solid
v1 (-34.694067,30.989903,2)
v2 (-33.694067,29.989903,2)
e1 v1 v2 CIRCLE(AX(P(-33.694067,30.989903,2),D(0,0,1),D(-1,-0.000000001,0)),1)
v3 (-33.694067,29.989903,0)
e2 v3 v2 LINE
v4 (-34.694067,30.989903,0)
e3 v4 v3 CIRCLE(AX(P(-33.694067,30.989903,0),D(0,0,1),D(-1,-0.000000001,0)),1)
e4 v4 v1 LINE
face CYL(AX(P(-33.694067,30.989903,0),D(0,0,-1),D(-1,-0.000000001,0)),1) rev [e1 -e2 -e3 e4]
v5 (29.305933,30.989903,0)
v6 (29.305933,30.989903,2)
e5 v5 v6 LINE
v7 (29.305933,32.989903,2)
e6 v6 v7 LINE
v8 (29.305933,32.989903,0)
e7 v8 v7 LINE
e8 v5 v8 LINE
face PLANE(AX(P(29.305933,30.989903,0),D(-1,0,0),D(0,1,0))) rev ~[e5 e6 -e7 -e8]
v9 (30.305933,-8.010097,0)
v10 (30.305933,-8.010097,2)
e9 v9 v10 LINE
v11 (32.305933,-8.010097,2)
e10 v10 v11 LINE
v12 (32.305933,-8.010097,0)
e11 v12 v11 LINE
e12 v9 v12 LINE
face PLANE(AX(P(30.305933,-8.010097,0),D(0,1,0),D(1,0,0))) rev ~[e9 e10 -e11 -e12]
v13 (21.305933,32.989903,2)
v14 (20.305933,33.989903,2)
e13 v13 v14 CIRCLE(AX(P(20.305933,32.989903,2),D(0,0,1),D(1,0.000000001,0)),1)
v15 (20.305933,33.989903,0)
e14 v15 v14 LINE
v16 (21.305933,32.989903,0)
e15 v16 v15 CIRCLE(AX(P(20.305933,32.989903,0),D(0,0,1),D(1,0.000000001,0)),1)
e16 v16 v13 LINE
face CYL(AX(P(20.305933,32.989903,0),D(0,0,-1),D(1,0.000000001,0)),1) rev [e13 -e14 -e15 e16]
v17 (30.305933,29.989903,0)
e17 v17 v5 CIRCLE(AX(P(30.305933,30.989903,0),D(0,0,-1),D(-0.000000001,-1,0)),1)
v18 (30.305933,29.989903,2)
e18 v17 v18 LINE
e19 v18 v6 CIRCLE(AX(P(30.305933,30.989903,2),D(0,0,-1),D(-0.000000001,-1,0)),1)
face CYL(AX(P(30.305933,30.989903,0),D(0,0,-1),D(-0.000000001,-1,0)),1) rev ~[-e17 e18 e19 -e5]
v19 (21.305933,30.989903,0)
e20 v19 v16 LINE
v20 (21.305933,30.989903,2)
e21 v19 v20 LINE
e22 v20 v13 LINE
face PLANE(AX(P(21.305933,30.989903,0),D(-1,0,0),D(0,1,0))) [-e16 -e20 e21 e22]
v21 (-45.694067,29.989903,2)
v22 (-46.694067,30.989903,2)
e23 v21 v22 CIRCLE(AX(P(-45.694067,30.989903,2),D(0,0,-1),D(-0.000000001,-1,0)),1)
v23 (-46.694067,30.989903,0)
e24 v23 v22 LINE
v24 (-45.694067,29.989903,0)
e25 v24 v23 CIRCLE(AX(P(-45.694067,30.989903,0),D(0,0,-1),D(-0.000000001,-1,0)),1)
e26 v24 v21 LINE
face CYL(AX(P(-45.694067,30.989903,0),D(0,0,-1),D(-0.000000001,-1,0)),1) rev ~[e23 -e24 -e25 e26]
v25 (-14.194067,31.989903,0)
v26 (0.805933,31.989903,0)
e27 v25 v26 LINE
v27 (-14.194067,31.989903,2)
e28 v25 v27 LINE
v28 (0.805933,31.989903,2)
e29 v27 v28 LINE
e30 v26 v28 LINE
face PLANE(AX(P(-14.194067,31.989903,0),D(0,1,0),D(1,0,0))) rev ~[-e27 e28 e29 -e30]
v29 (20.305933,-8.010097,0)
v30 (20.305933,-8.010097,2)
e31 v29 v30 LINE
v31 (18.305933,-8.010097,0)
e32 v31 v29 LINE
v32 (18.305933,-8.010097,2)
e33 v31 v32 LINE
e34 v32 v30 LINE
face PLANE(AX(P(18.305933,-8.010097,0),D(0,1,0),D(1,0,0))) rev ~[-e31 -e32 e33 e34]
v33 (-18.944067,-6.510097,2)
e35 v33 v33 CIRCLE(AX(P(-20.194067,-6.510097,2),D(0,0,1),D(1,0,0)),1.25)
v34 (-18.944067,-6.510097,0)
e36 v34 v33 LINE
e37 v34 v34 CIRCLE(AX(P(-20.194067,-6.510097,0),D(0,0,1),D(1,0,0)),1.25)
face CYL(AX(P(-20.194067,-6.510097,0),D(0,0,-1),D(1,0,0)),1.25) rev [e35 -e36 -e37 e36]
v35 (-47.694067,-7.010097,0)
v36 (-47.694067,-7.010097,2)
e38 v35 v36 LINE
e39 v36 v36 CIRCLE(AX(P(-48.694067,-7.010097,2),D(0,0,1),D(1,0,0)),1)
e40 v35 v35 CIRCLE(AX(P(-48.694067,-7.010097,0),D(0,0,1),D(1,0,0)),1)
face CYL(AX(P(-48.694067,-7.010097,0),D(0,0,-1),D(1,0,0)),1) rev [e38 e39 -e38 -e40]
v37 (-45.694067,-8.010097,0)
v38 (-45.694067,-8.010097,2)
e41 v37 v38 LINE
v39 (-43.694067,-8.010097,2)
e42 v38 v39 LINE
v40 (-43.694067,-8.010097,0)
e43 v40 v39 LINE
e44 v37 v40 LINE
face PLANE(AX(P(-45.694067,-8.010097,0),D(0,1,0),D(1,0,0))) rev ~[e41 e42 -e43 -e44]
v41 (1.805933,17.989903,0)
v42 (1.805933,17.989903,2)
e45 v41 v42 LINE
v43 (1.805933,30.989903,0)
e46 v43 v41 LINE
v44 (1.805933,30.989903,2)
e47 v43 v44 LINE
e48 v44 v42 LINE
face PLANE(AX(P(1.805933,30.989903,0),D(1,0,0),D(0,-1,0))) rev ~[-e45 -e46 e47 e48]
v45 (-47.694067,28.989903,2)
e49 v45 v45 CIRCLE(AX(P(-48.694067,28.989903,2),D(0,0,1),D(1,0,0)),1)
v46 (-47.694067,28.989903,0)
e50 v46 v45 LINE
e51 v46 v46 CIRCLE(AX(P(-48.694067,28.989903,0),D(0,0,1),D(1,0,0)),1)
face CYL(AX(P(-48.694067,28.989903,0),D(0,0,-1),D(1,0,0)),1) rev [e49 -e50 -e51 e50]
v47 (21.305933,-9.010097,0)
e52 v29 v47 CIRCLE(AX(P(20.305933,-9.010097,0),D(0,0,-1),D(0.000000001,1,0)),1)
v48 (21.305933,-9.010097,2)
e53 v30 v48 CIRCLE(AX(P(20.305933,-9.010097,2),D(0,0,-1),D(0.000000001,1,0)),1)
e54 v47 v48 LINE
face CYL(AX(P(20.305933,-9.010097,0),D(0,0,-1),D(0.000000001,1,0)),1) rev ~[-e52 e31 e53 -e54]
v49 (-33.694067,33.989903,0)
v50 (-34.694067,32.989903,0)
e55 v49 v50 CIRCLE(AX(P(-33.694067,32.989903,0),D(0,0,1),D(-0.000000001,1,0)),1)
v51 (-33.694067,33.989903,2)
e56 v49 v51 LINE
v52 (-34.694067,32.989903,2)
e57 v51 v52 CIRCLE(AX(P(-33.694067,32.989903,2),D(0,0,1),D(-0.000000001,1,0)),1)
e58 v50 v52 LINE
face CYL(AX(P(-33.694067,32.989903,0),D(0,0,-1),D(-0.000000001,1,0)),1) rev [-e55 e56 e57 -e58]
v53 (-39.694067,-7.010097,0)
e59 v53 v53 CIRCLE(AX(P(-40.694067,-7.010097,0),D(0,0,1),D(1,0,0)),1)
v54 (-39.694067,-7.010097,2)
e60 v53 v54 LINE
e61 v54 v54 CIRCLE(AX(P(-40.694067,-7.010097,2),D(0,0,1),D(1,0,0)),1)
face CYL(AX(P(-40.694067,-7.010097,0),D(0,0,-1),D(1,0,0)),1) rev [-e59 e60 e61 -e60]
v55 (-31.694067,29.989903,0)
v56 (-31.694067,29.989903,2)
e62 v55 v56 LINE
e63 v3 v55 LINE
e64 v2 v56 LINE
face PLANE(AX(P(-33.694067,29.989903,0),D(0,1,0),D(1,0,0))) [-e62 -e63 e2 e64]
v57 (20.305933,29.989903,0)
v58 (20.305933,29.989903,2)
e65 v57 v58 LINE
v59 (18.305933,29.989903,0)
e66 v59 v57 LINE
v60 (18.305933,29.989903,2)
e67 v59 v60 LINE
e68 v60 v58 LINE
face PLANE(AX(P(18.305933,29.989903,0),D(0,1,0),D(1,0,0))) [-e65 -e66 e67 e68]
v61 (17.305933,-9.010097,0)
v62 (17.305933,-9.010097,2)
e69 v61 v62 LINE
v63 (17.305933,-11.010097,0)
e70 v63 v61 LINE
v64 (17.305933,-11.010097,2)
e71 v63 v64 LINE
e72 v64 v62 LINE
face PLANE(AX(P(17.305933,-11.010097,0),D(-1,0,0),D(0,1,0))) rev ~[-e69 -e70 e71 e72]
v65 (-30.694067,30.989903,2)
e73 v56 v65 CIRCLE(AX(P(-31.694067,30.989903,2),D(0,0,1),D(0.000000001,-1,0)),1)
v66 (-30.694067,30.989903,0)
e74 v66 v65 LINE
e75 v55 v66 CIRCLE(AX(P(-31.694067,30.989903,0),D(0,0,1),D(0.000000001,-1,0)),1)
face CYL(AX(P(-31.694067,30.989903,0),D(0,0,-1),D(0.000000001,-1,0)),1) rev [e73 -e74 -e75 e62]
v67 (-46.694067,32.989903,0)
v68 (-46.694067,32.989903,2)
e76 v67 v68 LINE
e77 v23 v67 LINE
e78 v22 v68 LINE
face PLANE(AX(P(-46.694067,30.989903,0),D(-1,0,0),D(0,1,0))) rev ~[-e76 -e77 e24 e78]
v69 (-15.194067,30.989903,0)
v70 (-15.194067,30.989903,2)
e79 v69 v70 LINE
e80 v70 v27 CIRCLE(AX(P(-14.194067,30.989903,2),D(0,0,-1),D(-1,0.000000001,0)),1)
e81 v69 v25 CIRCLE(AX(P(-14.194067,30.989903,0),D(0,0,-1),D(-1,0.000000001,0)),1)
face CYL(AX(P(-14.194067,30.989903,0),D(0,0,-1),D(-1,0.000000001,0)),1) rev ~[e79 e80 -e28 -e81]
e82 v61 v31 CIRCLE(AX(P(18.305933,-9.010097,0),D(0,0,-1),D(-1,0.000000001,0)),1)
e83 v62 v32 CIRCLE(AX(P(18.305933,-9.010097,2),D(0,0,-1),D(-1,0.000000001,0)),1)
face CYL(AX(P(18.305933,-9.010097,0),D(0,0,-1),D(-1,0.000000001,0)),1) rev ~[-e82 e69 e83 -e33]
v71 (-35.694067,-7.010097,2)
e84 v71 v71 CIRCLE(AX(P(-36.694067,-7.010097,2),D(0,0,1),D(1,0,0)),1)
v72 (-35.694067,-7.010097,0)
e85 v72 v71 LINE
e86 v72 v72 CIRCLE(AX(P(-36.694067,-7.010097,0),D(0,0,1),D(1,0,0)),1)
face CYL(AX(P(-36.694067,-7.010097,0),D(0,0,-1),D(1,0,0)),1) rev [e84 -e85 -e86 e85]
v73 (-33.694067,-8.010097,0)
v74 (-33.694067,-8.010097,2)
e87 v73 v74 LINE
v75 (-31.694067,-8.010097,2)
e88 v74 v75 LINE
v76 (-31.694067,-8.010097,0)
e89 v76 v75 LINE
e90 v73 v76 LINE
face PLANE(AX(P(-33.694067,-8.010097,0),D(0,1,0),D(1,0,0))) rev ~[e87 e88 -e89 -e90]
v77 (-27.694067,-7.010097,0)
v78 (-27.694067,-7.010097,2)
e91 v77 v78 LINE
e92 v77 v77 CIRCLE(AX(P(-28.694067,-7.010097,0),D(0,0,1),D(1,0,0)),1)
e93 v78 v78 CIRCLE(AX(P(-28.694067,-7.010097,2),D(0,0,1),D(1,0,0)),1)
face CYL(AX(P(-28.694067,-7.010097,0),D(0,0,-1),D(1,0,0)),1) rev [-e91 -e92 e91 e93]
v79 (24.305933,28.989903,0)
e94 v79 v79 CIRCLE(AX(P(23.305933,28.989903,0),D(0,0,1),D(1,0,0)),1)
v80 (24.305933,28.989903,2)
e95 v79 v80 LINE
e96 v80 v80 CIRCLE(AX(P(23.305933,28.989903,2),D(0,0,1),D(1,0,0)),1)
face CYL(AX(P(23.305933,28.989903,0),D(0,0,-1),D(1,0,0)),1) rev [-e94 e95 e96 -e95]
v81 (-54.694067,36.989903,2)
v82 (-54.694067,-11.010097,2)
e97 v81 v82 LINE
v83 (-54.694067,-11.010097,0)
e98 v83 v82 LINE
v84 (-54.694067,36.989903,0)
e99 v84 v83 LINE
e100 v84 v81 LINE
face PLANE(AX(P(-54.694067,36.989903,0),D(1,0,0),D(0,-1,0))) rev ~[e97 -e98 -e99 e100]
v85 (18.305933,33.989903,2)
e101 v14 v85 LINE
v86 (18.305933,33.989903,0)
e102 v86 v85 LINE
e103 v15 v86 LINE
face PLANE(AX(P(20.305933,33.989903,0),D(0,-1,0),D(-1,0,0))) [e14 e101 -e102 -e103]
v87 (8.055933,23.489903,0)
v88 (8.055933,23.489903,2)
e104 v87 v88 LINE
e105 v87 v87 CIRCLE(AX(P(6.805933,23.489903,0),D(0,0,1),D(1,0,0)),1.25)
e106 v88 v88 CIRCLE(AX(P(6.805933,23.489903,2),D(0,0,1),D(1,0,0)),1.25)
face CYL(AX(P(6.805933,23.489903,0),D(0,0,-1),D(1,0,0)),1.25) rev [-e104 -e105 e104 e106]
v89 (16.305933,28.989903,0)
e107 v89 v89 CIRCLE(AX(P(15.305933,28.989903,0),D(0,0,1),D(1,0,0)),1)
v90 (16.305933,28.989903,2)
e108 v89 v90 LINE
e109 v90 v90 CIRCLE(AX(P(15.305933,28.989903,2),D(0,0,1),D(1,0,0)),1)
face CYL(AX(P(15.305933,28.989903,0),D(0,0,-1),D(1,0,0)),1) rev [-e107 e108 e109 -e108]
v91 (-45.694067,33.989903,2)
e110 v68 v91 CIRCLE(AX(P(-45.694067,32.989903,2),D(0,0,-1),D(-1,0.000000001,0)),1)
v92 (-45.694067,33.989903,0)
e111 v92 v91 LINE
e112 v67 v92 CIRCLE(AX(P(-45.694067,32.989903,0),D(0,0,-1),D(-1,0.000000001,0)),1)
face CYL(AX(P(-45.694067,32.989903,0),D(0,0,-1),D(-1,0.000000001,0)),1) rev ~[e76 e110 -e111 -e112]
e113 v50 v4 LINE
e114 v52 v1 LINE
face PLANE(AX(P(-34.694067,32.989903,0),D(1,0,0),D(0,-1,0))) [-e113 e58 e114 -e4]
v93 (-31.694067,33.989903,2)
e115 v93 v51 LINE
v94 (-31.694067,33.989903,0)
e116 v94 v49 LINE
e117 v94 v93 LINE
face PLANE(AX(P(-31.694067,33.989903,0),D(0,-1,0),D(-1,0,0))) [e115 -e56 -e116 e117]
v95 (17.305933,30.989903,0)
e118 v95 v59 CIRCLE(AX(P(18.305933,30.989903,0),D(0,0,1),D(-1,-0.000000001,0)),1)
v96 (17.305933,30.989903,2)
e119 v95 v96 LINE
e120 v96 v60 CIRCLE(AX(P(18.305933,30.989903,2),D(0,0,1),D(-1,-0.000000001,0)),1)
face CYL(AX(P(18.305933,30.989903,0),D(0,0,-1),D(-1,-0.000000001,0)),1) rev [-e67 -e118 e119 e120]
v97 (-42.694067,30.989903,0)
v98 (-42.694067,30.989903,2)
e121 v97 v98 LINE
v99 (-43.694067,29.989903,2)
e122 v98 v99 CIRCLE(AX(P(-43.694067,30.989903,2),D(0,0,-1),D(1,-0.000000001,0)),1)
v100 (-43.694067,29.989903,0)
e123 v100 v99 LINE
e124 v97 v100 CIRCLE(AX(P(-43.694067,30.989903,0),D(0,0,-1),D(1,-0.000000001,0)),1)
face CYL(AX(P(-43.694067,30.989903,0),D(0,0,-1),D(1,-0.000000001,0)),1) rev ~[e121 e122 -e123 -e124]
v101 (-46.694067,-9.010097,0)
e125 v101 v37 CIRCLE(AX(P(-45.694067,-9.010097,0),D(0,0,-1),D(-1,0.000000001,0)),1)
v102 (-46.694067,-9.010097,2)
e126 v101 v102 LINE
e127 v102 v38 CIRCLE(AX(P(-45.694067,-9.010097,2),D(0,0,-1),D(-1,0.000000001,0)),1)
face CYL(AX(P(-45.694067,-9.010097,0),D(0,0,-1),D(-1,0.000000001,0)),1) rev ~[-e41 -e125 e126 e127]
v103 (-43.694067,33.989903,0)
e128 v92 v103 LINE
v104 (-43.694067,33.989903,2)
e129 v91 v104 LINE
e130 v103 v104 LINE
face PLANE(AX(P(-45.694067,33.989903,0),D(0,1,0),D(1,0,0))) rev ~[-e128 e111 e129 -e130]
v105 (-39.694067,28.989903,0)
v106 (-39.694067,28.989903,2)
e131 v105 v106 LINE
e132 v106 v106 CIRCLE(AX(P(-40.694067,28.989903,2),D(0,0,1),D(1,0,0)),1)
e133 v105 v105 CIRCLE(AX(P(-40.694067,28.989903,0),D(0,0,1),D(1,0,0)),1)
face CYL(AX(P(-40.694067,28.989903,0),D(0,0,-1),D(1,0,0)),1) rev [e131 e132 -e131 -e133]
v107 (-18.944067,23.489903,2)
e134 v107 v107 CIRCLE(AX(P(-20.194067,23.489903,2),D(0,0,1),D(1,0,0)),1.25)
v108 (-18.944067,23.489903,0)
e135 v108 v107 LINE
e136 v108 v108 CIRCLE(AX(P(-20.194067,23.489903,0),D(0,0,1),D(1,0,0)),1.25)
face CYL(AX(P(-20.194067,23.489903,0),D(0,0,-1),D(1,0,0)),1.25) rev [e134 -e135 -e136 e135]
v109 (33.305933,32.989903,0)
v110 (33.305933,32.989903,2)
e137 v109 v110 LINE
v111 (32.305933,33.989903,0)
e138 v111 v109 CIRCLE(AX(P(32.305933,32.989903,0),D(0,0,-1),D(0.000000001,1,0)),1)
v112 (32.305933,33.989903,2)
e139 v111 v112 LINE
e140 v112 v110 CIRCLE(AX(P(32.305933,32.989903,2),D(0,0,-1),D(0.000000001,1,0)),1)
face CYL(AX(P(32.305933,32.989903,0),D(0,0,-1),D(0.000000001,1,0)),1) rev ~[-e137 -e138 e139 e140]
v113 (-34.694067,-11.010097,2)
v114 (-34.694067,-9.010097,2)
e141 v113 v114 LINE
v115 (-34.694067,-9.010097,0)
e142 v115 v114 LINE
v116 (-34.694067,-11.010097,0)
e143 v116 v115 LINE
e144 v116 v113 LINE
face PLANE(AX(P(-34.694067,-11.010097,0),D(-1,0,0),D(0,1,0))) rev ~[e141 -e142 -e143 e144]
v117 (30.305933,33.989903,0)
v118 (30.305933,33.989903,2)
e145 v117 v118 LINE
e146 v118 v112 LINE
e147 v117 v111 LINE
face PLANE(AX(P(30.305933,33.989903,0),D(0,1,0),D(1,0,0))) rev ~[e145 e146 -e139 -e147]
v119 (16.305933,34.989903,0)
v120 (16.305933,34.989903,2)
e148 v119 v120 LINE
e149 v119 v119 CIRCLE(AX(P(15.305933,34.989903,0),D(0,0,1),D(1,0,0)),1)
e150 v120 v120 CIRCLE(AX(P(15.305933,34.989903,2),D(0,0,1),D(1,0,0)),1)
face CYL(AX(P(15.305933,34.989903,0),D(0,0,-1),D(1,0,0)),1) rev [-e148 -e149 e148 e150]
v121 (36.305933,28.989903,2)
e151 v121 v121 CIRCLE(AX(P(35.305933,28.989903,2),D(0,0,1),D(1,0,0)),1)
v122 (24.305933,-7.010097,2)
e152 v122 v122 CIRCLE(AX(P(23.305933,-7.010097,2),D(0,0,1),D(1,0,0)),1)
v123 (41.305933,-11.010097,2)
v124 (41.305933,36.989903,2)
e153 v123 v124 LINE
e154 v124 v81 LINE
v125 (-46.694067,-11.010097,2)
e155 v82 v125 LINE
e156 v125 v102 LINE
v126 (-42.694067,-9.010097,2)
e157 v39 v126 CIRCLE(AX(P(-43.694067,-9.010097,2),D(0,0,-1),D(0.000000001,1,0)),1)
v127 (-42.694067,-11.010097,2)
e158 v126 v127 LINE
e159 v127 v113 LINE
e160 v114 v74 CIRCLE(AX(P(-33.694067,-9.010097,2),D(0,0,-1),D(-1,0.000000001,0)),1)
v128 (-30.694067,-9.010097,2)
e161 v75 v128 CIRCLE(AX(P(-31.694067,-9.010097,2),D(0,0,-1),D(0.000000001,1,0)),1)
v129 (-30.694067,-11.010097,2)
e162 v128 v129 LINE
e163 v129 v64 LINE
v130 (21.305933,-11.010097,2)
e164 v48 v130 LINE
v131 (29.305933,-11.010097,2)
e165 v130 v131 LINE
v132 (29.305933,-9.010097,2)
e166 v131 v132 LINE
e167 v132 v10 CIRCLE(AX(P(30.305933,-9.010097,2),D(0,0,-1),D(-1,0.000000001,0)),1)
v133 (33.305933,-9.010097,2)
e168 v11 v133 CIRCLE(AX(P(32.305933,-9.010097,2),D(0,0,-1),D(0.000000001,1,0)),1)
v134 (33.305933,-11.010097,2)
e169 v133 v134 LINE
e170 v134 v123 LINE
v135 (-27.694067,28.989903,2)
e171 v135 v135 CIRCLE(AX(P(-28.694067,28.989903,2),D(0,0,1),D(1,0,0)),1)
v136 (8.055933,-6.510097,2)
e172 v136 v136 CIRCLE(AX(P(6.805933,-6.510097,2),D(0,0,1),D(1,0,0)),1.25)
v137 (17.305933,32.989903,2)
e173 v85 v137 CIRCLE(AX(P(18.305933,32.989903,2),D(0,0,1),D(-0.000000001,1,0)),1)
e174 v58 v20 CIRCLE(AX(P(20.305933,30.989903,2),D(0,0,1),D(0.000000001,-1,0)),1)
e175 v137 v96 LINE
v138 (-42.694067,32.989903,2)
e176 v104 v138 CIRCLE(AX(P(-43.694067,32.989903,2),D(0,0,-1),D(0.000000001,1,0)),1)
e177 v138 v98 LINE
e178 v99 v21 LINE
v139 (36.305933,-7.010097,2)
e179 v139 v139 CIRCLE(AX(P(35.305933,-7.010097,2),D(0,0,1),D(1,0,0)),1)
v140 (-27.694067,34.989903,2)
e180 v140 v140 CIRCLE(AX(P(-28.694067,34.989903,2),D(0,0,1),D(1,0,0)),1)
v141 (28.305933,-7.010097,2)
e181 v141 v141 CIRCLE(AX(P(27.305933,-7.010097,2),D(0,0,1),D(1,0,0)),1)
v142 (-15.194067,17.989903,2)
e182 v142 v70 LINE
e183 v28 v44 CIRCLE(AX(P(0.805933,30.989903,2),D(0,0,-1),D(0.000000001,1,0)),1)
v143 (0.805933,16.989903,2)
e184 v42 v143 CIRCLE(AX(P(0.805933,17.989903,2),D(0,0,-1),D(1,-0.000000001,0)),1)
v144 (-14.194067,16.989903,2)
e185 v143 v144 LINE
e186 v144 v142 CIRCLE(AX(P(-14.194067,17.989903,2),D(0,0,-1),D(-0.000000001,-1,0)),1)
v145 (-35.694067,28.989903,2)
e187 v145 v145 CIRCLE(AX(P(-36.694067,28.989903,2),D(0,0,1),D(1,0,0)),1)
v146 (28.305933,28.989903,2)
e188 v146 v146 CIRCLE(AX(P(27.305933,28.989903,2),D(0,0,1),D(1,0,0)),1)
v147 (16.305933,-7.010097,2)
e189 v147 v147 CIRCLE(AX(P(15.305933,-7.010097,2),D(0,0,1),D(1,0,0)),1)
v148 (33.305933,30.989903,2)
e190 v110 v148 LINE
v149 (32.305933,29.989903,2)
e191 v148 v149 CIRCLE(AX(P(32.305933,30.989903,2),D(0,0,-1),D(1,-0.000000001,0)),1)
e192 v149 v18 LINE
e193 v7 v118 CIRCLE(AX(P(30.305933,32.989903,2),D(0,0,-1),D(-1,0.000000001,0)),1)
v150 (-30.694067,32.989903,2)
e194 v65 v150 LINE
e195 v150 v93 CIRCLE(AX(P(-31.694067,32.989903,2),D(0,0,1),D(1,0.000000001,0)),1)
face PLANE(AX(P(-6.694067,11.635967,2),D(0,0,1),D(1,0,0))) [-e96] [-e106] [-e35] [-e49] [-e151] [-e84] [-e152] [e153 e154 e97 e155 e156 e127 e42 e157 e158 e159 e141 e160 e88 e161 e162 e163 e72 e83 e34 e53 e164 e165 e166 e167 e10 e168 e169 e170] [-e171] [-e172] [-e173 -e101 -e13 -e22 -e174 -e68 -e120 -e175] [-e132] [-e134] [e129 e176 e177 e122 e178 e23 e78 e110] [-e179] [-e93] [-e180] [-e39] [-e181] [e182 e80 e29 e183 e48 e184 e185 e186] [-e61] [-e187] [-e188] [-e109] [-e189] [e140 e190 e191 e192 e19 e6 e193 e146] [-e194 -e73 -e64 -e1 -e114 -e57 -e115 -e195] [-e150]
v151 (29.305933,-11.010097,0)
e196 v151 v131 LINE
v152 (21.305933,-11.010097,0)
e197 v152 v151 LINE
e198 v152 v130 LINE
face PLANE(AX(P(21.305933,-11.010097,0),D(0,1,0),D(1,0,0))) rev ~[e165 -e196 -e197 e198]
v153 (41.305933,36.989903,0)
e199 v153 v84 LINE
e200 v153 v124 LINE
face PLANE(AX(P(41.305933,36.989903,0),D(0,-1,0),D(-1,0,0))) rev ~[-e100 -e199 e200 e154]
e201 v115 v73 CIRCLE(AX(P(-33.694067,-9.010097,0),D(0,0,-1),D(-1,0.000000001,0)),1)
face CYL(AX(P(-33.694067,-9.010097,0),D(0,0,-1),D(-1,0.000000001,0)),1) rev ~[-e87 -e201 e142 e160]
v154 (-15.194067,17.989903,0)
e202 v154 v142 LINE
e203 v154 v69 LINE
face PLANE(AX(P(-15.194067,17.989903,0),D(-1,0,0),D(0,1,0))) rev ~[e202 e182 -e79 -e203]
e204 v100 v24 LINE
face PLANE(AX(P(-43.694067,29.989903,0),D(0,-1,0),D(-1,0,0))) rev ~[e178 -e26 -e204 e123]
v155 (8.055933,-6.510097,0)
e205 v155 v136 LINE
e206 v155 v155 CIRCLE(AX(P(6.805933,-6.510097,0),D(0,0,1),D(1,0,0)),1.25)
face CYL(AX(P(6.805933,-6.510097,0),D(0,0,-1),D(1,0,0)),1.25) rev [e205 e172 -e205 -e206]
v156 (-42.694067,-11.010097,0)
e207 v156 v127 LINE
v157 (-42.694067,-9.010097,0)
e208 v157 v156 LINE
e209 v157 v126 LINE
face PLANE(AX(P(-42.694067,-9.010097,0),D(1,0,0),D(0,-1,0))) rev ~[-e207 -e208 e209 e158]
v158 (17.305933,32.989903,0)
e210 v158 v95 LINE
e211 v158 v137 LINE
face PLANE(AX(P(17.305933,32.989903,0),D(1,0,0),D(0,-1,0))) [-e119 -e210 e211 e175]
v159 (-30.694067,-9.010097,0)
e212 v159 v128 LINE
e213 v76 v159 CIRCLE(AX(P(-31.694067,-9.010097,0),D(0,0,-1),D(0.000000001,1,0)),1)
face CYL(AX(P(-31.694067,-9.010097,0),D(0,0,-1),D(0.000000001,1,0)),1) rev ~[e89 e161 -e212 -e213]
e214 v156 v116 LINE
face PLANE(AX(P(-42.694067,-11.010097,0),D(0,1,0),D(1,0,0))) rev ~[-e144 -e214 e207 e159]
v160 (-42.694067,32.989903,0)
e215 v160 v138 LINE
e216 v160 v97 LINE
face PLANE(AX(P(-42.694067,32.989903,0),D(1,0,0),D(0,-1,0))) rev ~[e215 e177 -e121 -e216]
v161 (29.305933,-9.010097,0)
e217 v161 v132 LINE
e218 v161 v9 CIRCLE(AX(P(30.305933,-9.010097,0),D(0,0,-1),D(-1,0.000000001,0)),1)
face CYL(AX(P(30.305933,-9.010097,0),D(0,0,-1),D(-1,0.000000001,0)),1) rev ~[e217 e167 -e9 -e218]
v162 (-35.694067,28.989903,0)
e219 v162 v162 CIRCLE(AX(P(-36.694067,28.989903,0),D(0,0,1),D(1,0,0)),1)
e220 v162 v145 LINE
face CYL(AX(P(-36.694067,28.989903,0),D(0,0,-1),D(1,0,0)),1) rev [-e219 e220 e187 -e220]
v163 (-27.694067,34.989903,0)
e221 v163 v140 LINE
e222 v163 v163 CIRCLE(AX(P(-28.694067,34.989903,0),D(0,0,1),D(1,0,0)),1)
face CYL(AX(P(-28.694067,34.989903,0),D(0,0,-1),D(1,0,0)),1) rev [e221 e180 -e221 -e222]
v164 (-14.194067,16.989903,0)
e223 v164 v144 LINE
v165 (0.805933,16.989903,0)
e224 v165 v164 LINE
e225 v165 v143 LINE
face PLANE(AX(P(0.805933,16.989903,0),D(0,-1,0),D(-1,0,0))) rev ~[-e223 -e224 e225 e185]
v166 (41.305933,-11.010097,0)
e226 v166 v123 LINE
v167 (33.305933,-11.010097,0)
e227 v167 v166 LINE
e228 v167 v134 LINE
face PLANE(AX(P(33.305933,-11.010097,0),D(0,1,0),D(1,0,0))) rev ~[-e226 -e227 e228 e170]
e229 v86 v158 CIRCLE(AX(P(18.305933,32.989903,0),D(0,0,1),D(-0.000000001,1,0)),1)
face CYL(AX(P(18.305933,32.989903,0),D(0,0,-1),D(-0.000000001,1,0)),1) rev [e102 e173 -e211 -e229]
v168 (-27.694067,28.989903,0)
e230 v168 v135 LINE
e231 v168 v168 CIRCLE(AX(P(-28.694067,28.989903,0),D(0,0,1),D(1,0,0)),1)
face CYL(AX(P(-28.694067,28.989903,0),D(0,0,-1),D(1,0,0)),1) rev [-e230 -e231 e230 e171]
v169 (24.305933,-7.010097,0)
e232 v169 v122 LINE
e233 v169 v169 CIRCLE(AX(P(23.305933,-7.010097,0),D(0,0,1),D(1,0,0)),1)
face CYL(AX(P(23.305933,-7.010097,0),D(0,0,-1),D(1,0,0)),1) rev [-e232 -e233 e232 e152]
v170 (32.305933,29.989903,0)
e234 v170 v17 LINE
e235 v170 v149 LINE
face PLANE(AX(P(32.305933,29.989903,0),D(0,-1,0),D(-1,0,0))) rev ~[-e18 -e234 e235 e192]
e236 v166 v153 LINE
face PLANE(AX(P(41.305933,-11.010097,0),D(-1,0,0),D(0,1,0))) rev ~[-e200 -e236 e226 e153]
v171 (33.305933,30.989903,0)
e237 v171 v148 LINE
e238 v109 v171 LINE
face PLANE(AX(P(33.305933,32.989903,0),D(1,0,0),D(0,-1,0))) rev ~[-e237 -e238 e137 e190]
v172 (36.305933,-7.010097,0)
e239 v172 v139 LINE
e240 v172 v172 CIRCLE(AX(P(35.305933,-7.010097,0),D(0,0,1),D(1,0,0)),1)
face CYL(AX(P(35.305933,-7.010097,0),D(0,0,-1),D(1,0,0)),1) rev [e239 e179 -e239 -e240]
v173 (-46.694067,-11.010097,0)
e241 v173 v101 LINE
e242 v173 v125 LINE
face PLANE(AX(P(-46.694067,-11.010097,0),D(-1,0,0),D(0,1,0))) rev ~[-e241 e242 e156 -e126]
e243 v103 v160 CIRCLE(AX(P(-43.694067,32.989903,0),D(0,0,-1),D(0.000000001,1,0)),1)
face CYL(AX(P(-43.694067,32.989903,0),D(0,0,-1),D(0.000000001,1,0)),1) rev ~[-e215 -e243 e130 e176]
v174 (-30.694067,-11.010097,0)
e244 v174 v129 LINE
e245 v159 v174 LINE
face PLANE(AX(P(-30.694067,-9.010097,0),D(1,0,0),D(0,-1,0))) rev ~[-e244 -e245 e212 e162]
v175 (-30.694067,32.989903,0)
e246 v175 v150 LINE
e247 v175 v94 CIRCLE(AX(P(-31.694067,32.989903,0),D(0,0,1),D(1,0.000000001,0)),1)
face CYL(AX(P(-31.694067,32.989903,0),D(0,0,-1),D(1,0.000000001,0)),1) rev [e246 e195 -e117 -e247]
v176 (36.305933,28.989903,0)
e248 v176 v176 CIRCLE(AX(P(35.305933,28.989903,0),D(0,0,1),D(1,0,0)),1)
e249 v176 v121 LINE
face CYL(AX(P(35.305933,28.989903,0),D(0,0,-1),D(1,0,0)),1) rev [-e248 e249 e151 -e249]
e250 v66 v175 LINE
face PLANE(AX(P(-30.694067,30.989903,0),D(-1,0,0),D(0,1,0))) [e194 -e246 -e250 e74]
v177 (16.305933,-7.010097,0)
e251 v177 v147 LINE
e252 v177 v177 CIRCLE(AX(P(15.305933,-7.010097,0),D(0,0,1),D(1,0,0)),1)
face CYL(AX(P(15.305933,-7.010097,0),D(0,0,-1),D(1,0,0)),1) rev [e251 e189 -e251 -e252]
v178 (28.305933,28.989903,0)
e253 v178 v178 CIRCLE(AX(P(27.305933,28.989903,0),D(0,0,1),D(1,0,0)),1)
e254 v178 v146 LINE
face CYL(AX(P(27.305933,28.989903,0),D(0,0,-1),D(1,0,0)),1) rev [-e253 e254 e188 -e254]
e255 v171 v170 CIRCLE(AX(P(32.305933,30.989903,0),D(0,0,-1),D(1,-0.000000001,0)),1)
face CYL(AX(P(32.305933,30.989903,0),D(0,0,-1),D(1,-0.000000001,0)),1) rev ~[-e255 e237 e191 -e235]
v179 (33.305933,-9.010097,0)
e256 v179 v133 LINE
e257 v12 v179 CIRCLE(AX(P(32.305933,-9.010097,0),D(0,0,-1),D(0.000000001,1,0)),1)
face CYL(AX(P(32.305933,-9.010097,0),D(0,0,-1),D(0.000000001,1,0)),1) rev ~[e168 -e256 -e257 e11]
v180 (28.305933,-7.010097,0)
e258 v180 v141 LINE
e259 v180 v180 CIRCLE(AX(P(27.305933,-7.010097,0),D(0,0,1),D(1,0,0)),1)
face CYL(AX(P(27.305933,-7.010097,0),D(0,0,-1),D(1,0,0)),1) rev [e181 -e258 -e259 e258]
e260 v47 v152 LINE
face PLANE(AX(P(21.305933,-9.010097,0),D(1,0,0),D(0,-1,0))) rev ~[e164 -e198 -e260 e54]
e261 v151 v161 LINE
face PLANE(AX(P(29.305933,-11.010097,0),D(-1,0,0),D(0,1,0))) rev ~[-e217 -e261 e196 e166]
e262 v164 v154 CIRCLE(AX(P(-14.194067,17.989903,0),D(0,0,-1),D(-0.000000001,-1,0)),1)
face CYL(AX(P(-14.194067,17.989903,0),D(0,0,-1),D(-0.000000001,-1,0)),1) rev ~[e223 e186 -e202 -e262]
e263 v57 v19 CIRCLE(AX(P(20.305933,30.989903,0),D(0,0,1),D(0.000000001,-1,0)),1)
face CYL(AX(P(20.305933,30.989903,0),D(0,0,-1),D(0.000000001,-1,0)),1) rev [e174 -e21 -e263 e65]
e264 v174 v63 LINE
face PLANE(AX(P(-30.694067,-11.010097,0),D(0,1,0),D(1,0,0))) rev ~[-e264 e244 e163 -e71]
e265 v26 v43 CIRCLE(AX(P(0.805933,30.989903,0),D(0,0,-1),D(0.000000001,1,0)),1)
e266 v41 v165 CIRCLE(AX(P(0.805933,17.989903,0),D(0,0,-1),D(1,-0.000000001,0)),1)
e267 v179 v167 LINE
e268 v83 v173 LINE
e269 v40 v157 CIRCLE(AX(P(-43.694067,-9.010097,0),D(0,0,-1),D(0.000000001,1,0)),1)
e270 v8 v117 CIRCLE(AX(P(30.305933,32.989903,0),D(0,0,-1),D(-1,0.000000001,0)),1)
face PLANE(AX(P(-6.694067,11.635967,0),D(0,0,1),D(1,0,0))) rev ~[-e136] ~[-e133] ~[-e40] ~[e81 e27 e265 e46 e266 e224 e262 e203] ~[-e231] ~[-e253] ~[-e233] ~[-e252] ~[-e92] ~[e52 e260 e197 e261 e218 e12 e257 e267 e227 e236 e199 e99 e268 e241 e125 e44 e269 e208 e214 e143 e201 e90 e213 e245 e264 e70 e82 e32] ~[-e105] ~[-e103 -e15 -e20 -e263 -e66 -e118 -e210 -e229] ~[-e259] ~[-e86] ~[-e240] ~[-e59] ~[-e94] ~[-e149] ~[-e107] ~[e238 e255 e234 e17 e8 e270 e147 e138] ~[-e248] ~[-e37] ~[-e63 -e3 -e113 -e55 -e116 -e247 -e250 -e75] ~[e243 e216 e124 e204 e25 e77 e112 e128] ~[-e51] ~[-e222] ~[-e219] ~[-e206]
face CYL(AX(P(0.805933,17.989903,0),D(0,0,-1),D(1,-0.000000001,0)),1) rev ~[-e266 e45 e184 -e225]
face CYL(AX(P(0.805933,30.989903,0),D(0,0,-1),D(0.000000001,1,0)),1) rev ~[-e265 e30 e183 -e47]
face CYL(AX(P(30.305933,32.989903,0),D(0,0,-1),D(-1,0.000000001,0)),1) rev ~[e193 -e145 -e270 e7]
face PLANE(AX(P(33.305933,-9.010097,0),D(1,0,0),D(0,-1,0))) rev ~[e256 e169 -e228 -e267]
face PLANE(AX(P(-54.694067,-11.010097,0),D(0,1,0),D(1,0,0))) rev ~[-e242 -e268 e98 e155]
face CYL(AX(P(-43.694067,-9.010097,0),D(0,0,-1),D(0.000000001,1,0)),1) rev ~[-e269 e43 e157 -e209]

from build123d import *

# Parameters (mm, degrees)
SKETCH_1_R      = 1.25
SKETCH_1_R_2    = 1
EXTRUDE_3_DEPTH = 2


with BuildPart() as part:
    # 草圖1 → 填料-伸長3 (new body)
    with BuildSketch(Plane.XY):
        with BuildLine():
            Line((-53.694067148, 36.989902751), (-54.694067148, 36.989902751))
            Line((-54.694067148, 36.989902751), (-54.694067148, 35.989902751))
            Line((-54.694067148, 35.989902751), (-54.694067148, -10.010097249))
            Line((-54.694067148, -10.010097249), (-54.694067148, -11.010097249))
            Line((-54.694067148, -11.010097249), (-53.694067148, -11.010097249))
            Line((-53.694067148, -11.010097249), (-46.694067148, -11.010097249))
            Line((-46.694067148, -11.010097249), (-46.694067148, -9.010097249))
            ThreePointArc((-46.694067148, -9.010097249), (-46.401173929, -8.302990468), (-45.694067148, -8.010097249))
            Line((-45.694067148, -8.010097249), (-43.694067148, -8.010097249))
            ThreePointArc((-43.694067148, -8.010097249), (-42.986960367, -8.302990468), (-42.694067148, -9.010097249))
            Line((-42.694067148, -9.010097249), (-42.694067148, -11.010097249))
            Line((-42.694067148, -11.010097249), (-34.694067148, -11.010097249))
            Line((-34.694067148, -11.010097249), (-34.694067148, -9.010097249))
            ThreePointArc((-34.694067148, -9.010097249), (-34.401173929, -8.302990468), (-33.694067148, -8.010097249))
            Line((-33.694067148, -8.010097249), (-31.694067148, -8.010097249))
            ThreePointArc((-31.694067148, -8.010097249), (-30.986960367, -8.302990468), (-30.694067148, -9.010097249))
            Line((-30.694067148, -9.010097249), (-30.694067148, -11.010097249))
            Line((-30.694067148, -11.010097249), (17.305932852, -11.010097249))
            Line((17.305932852, -11.010097249), (17.305932852, -9.010097249))
            ThreePointArc((17.305932852, -9.010097249), (17.598826071, -8.302990468), (18.305932852, -8.010097249))
            Line((18.305932852, -8.010097249), (20.305932852, -8.010097249))
            ThreePointArc((20.305932852, -8.010097249), (21.013039633, -8.302990468), (21.305932852, -9.010097249))
            Line((21.305932852, -9.010097249), (21.305932852, -11.010097249))
            Line((21.305932852, -11.010097249), (29.305932852, -11.010097249))
            Line((29.305932852, -11.010097249), (29.305932852, -9.010097249))
            ThreePointArc((29.305932852, -9.010097249), (29.598826071, -8.302990468), (30.305932852, -8.010097249))
            Line((30.305932852, -8.010097249), (32.305932852, -8.010097249))
            ThreePointArc((32.305932852, -8.010097249), (33.013039633, -8.302990468), (33.305932852, -9.010097249))
            Line((33.305932852, -9.010097249), (33.305932852, -11.010097249))
            Line((33.305932852, -11.010097249), (40.305932852, -11.010097249))
            Line((40.305932852, -11.010097249), (41.305932852, -11.010097249))
            Line((41.305932852, -11.010097249), (41.305932852, -10.010097249))
            Line((41.305932852, -10.010097249), (41.305932852, 35.989902751))
            Line((41.305932852, 35.989902751), (41.305932852, 36.989902751))
            Line((41.305932852, 36.989902751), (40.305932852, 36.989902751))
            Line((40.305932852, 36.989902751), (-53.694067148, 36.989902751))
        make_face()
        with Locations((-20.194067148, 23.489902751)):
            Circle(SKETCH_1_R, mode=Mode.SUBTRACT)
        with Locations((6.805932852, 23.489902751)):
            Circle(SKETCH_1_R, mode=Mode.SUBTRACT)
        with Locations((6.805932852, -6.510097249)):
            Circle(SKETCH_1_R, mode=Mode.SUBTRACT)
        with Locations((-20.194067148, -6.510097249)):
            Circle(SKETCH_1_R, mode=Mode.SUBTRACT)
        with Locations((27.305932852, 28.989902751)):
            Circle(SKETCH_1_R_2, mode=Mode.SUBTRACT)
        with Locations((-48.694067148, 28.989902751)):
            Circle(SKETCH_1_R_2, mode=Mode.SUBTRACT)
        with Locations((-28.694067148, 34.989902751)):
            Circle(SKETCH_1_R_2, mode=Mode.SUBTRACT)
        with Locations((-36.694067148, 28.989902751)):
            Circle(SKETCH_1_R_2, mode=Mode.SUBTRACT)
        with Locations((-28.694067148, -7.010097249)):
            Circle(SKETCH_1_R_2, mode=Mode.SUBTRACT)
        with Locations((15.305932852, 34.989902751)):
            Circle(SKETCH_1_R_2, mode=Mode.SUBTRACT)
        with Locations((-28.694067148, 28.989902751)):
            Circle(SKETCH_1_R_2, mode=Mode.SUBTRACT)
        with Locations((-36.694067148, -7.010097249)):
            Circle(SKETCH_1_R_2, mode=Mode.SUBTRACT)
        with Locations((-40.694067148, -7.010097249)):
            Circle(SKETCH_1_R_2, mode=Mode.SUBTRACT)
        with Locations((-48.694067148, -7.010097249)):
            Circle(SKETCH_1_R_2, mode=Mode.SUBTRACT)
        with Locations((35.305932852, -7.010097249)):
            Circle(SKETCH_1_R_2, mode=Mode.SUBTRACT)
        with Locations((-40.694067148, 28.989902751)):
            Circle(SKETCH_1_R_2, mode=Mode.SUBTRACT)
        with Locations((27.305932852, -7.010097249)):
            Circle(SKETCH_1_R_2, mode=Mode.SUBTRACT)
        with Locations((23.305932852, -7.010097249)):
            Circle(SKETCH_1_R_2, mode=Mode.SUBTRACT)
        with Locations((15.305932852, 28.989902751)):
            Circle(SKETCH_1_R_2, mode=Mode.SUBTRACT)
        with Locations((15.305932852, -7.010097249)):
            Circle(SKETCH_1_R_2, mode=Mode.SUBTRACT)
        with Locations((23.305932852, 28.989902751)):
            Circle(SKETCH_1_R_2, mode=Mode.SUBTRACT)
        with Locations((35.305932852, 28.989902751)):
            Circle(SKETCH_1_R_2, mode=Mode.SUBTRACT)
        with BuildLine():
            Line((-14.194067148, 31.989902751), (0.805932852, 31.989902751))
            ThreePointArc((0.805932852, 31.989902751), (1.513039633, 31.697009532), (1.805932852, 30.989902751))
            Line((1.805932852, 30.989902751), (1.805932852, 17.989902751))
            ThreePointArc((1.805932852, 17.989902751), (1.513039633, 17.28279597), (0.805932852, 16.989902751))
            Line((0.805932852, 16.989902751), (-14.194067148, 16.989902751))
            ThreePointArc((-14.194067148, 16.989902751), (-14.901173929, 17.28279597), (-15.194067148, 17.989902751))
            Line((-15.194067148, 17.989902751), (-15.194067148, 30.989902751))
            ThreePointArc((-15.194067148, 30.989902751), (-14.901173929, 31.697009532), (-14.194067148, 31.989902751))
        make_face(mode=Mode.SUBTRACT)
        with BuildLine():
            Line((-46.694067148, 30.989902751), (-46.694067148, 32.989902751))
            ThreePointArc((-46.694067148, 32.989902751), (-46.401173929, 33.697009532), (-45.694067148, 33.989902751))
            Line((-45.694067148, 33.989902751), (-43.694067148, 33.989902751))
            ThreePointArc((-43.694067148, 33.989902751), (-42.986960367, 33.697009532), (-42.694067148, 32.989902751))
            Line((-42.694067148, 32.989902751), (-42.694067148, 30.989902751))
            ThreePointArc((-42.694067148, 30.989902751), (-42.986960367, 30.28279597), (-43.694067148, 29.989902751))
            Line((-43.694067148, 29.989902751), (-45.694067148, 29.989902751))
            ThreePointArc((-45.694067148, 29.989902751), (-46.401173929, 30.28279597), (-46.694067148, 30.989902751))
        make_face(mode=Mode.SUBTRACT)
        with BuildLine():
            Line((-30.694067148, 30.989902751), (-30.694067148, 32.989902751))
            ThreePointArc((-30.694067148, 32.989902751), (-30.986960367, 33.697009532), (-31.694067148, 33.989902751))
            Line((-31.694067148, 33.989902751), (-33.694067148, 33.989902751))
            ThreePointArc((-33.694067148, 33.989902751), (-34.401173929, 33.697009532), (-34.694067148, 32.989902751))
            Line((-34.694067148, 32.989902751), (-34.694067148, 30.989902751))
            ThreePointArc((-34.694067148, 30.989902751), (-34.401173929, 30.28279597), (-33.694067148, 29.989902751))
            Line((-33.694067148, 29.989902751), (-31.694067148, 29.989902751))
            ThreePointArc((-31.694067148, 29.989902751), (-30.986960367, 30.28279597), (-30.694067148, 30.989902751))
        make_face(mode=Mode.SUBTRACT)
        with BuildLine():
            Line((20.305932852, 33.989902751), (18.305932852, 33.989902751))
            ThreePointArc((18.305932852, 33.989902751), (17.598826071, 33.697009532), (17.305932852, 32.989902751))
            Line((17.305932852, 32.989902751), (17.305932852, 30.989902751))
            ThreePointArc((17.305932852, 30.989902751), (17.598826071, 30.28279597), (18.305932852, 29.989902751))
            Line((18.305932852, 29.989902751), (20.305932852, 29.989902751))
            ThreePointArc((20.305932852, 29.989902751), (21.013039633, 30.28279597), (21.305932852, 30.989902751))
            Line((21.305932852, 30.989902751), (21.305932852, 32.989902751))
            ThreePointArc((21.305932852, 32.989902751), (21.013039633, 33.697009532), (20.305932852, 33.989902751))
        make_face(mode=Mode.SUBTRACT)
        with BuildLine():
            Line((32.305932852, 29.989902751), (30.305932852, 29.989902751))
            ThreePointArc((30.305932852, 29.989902751), (29.598826071, 30.28279597), (29.305932852, 30.989902751))
            Line((29.305932852, 30.989902751), (29.305932852, 32.989902751))
            ThreePointArc((29.305932852, 32.989902751), (29.598826071, 33.697009532), (30.305932852, 33.989902751))
            Line((30.305932852, 33.989902751), (32.305932852, 33.989902751))
            ThreePointArc((32.305932852, 33.989902751), (33.013039633, 33.697009532), (33.305932852, 32.989902751))
            Line((33.305932852, 32.989902751), (33.305932852, 30.989902751))
            ThreePointArc((33.305932852, 30.989902751), (33.013039633, 30.28279597), (32.305932852, 29.989902751))
        make_face(mode=Mode.SUBTRACT)
    extrude(amount=EXTRUDE_3_DEPTH)


solid = part.part
